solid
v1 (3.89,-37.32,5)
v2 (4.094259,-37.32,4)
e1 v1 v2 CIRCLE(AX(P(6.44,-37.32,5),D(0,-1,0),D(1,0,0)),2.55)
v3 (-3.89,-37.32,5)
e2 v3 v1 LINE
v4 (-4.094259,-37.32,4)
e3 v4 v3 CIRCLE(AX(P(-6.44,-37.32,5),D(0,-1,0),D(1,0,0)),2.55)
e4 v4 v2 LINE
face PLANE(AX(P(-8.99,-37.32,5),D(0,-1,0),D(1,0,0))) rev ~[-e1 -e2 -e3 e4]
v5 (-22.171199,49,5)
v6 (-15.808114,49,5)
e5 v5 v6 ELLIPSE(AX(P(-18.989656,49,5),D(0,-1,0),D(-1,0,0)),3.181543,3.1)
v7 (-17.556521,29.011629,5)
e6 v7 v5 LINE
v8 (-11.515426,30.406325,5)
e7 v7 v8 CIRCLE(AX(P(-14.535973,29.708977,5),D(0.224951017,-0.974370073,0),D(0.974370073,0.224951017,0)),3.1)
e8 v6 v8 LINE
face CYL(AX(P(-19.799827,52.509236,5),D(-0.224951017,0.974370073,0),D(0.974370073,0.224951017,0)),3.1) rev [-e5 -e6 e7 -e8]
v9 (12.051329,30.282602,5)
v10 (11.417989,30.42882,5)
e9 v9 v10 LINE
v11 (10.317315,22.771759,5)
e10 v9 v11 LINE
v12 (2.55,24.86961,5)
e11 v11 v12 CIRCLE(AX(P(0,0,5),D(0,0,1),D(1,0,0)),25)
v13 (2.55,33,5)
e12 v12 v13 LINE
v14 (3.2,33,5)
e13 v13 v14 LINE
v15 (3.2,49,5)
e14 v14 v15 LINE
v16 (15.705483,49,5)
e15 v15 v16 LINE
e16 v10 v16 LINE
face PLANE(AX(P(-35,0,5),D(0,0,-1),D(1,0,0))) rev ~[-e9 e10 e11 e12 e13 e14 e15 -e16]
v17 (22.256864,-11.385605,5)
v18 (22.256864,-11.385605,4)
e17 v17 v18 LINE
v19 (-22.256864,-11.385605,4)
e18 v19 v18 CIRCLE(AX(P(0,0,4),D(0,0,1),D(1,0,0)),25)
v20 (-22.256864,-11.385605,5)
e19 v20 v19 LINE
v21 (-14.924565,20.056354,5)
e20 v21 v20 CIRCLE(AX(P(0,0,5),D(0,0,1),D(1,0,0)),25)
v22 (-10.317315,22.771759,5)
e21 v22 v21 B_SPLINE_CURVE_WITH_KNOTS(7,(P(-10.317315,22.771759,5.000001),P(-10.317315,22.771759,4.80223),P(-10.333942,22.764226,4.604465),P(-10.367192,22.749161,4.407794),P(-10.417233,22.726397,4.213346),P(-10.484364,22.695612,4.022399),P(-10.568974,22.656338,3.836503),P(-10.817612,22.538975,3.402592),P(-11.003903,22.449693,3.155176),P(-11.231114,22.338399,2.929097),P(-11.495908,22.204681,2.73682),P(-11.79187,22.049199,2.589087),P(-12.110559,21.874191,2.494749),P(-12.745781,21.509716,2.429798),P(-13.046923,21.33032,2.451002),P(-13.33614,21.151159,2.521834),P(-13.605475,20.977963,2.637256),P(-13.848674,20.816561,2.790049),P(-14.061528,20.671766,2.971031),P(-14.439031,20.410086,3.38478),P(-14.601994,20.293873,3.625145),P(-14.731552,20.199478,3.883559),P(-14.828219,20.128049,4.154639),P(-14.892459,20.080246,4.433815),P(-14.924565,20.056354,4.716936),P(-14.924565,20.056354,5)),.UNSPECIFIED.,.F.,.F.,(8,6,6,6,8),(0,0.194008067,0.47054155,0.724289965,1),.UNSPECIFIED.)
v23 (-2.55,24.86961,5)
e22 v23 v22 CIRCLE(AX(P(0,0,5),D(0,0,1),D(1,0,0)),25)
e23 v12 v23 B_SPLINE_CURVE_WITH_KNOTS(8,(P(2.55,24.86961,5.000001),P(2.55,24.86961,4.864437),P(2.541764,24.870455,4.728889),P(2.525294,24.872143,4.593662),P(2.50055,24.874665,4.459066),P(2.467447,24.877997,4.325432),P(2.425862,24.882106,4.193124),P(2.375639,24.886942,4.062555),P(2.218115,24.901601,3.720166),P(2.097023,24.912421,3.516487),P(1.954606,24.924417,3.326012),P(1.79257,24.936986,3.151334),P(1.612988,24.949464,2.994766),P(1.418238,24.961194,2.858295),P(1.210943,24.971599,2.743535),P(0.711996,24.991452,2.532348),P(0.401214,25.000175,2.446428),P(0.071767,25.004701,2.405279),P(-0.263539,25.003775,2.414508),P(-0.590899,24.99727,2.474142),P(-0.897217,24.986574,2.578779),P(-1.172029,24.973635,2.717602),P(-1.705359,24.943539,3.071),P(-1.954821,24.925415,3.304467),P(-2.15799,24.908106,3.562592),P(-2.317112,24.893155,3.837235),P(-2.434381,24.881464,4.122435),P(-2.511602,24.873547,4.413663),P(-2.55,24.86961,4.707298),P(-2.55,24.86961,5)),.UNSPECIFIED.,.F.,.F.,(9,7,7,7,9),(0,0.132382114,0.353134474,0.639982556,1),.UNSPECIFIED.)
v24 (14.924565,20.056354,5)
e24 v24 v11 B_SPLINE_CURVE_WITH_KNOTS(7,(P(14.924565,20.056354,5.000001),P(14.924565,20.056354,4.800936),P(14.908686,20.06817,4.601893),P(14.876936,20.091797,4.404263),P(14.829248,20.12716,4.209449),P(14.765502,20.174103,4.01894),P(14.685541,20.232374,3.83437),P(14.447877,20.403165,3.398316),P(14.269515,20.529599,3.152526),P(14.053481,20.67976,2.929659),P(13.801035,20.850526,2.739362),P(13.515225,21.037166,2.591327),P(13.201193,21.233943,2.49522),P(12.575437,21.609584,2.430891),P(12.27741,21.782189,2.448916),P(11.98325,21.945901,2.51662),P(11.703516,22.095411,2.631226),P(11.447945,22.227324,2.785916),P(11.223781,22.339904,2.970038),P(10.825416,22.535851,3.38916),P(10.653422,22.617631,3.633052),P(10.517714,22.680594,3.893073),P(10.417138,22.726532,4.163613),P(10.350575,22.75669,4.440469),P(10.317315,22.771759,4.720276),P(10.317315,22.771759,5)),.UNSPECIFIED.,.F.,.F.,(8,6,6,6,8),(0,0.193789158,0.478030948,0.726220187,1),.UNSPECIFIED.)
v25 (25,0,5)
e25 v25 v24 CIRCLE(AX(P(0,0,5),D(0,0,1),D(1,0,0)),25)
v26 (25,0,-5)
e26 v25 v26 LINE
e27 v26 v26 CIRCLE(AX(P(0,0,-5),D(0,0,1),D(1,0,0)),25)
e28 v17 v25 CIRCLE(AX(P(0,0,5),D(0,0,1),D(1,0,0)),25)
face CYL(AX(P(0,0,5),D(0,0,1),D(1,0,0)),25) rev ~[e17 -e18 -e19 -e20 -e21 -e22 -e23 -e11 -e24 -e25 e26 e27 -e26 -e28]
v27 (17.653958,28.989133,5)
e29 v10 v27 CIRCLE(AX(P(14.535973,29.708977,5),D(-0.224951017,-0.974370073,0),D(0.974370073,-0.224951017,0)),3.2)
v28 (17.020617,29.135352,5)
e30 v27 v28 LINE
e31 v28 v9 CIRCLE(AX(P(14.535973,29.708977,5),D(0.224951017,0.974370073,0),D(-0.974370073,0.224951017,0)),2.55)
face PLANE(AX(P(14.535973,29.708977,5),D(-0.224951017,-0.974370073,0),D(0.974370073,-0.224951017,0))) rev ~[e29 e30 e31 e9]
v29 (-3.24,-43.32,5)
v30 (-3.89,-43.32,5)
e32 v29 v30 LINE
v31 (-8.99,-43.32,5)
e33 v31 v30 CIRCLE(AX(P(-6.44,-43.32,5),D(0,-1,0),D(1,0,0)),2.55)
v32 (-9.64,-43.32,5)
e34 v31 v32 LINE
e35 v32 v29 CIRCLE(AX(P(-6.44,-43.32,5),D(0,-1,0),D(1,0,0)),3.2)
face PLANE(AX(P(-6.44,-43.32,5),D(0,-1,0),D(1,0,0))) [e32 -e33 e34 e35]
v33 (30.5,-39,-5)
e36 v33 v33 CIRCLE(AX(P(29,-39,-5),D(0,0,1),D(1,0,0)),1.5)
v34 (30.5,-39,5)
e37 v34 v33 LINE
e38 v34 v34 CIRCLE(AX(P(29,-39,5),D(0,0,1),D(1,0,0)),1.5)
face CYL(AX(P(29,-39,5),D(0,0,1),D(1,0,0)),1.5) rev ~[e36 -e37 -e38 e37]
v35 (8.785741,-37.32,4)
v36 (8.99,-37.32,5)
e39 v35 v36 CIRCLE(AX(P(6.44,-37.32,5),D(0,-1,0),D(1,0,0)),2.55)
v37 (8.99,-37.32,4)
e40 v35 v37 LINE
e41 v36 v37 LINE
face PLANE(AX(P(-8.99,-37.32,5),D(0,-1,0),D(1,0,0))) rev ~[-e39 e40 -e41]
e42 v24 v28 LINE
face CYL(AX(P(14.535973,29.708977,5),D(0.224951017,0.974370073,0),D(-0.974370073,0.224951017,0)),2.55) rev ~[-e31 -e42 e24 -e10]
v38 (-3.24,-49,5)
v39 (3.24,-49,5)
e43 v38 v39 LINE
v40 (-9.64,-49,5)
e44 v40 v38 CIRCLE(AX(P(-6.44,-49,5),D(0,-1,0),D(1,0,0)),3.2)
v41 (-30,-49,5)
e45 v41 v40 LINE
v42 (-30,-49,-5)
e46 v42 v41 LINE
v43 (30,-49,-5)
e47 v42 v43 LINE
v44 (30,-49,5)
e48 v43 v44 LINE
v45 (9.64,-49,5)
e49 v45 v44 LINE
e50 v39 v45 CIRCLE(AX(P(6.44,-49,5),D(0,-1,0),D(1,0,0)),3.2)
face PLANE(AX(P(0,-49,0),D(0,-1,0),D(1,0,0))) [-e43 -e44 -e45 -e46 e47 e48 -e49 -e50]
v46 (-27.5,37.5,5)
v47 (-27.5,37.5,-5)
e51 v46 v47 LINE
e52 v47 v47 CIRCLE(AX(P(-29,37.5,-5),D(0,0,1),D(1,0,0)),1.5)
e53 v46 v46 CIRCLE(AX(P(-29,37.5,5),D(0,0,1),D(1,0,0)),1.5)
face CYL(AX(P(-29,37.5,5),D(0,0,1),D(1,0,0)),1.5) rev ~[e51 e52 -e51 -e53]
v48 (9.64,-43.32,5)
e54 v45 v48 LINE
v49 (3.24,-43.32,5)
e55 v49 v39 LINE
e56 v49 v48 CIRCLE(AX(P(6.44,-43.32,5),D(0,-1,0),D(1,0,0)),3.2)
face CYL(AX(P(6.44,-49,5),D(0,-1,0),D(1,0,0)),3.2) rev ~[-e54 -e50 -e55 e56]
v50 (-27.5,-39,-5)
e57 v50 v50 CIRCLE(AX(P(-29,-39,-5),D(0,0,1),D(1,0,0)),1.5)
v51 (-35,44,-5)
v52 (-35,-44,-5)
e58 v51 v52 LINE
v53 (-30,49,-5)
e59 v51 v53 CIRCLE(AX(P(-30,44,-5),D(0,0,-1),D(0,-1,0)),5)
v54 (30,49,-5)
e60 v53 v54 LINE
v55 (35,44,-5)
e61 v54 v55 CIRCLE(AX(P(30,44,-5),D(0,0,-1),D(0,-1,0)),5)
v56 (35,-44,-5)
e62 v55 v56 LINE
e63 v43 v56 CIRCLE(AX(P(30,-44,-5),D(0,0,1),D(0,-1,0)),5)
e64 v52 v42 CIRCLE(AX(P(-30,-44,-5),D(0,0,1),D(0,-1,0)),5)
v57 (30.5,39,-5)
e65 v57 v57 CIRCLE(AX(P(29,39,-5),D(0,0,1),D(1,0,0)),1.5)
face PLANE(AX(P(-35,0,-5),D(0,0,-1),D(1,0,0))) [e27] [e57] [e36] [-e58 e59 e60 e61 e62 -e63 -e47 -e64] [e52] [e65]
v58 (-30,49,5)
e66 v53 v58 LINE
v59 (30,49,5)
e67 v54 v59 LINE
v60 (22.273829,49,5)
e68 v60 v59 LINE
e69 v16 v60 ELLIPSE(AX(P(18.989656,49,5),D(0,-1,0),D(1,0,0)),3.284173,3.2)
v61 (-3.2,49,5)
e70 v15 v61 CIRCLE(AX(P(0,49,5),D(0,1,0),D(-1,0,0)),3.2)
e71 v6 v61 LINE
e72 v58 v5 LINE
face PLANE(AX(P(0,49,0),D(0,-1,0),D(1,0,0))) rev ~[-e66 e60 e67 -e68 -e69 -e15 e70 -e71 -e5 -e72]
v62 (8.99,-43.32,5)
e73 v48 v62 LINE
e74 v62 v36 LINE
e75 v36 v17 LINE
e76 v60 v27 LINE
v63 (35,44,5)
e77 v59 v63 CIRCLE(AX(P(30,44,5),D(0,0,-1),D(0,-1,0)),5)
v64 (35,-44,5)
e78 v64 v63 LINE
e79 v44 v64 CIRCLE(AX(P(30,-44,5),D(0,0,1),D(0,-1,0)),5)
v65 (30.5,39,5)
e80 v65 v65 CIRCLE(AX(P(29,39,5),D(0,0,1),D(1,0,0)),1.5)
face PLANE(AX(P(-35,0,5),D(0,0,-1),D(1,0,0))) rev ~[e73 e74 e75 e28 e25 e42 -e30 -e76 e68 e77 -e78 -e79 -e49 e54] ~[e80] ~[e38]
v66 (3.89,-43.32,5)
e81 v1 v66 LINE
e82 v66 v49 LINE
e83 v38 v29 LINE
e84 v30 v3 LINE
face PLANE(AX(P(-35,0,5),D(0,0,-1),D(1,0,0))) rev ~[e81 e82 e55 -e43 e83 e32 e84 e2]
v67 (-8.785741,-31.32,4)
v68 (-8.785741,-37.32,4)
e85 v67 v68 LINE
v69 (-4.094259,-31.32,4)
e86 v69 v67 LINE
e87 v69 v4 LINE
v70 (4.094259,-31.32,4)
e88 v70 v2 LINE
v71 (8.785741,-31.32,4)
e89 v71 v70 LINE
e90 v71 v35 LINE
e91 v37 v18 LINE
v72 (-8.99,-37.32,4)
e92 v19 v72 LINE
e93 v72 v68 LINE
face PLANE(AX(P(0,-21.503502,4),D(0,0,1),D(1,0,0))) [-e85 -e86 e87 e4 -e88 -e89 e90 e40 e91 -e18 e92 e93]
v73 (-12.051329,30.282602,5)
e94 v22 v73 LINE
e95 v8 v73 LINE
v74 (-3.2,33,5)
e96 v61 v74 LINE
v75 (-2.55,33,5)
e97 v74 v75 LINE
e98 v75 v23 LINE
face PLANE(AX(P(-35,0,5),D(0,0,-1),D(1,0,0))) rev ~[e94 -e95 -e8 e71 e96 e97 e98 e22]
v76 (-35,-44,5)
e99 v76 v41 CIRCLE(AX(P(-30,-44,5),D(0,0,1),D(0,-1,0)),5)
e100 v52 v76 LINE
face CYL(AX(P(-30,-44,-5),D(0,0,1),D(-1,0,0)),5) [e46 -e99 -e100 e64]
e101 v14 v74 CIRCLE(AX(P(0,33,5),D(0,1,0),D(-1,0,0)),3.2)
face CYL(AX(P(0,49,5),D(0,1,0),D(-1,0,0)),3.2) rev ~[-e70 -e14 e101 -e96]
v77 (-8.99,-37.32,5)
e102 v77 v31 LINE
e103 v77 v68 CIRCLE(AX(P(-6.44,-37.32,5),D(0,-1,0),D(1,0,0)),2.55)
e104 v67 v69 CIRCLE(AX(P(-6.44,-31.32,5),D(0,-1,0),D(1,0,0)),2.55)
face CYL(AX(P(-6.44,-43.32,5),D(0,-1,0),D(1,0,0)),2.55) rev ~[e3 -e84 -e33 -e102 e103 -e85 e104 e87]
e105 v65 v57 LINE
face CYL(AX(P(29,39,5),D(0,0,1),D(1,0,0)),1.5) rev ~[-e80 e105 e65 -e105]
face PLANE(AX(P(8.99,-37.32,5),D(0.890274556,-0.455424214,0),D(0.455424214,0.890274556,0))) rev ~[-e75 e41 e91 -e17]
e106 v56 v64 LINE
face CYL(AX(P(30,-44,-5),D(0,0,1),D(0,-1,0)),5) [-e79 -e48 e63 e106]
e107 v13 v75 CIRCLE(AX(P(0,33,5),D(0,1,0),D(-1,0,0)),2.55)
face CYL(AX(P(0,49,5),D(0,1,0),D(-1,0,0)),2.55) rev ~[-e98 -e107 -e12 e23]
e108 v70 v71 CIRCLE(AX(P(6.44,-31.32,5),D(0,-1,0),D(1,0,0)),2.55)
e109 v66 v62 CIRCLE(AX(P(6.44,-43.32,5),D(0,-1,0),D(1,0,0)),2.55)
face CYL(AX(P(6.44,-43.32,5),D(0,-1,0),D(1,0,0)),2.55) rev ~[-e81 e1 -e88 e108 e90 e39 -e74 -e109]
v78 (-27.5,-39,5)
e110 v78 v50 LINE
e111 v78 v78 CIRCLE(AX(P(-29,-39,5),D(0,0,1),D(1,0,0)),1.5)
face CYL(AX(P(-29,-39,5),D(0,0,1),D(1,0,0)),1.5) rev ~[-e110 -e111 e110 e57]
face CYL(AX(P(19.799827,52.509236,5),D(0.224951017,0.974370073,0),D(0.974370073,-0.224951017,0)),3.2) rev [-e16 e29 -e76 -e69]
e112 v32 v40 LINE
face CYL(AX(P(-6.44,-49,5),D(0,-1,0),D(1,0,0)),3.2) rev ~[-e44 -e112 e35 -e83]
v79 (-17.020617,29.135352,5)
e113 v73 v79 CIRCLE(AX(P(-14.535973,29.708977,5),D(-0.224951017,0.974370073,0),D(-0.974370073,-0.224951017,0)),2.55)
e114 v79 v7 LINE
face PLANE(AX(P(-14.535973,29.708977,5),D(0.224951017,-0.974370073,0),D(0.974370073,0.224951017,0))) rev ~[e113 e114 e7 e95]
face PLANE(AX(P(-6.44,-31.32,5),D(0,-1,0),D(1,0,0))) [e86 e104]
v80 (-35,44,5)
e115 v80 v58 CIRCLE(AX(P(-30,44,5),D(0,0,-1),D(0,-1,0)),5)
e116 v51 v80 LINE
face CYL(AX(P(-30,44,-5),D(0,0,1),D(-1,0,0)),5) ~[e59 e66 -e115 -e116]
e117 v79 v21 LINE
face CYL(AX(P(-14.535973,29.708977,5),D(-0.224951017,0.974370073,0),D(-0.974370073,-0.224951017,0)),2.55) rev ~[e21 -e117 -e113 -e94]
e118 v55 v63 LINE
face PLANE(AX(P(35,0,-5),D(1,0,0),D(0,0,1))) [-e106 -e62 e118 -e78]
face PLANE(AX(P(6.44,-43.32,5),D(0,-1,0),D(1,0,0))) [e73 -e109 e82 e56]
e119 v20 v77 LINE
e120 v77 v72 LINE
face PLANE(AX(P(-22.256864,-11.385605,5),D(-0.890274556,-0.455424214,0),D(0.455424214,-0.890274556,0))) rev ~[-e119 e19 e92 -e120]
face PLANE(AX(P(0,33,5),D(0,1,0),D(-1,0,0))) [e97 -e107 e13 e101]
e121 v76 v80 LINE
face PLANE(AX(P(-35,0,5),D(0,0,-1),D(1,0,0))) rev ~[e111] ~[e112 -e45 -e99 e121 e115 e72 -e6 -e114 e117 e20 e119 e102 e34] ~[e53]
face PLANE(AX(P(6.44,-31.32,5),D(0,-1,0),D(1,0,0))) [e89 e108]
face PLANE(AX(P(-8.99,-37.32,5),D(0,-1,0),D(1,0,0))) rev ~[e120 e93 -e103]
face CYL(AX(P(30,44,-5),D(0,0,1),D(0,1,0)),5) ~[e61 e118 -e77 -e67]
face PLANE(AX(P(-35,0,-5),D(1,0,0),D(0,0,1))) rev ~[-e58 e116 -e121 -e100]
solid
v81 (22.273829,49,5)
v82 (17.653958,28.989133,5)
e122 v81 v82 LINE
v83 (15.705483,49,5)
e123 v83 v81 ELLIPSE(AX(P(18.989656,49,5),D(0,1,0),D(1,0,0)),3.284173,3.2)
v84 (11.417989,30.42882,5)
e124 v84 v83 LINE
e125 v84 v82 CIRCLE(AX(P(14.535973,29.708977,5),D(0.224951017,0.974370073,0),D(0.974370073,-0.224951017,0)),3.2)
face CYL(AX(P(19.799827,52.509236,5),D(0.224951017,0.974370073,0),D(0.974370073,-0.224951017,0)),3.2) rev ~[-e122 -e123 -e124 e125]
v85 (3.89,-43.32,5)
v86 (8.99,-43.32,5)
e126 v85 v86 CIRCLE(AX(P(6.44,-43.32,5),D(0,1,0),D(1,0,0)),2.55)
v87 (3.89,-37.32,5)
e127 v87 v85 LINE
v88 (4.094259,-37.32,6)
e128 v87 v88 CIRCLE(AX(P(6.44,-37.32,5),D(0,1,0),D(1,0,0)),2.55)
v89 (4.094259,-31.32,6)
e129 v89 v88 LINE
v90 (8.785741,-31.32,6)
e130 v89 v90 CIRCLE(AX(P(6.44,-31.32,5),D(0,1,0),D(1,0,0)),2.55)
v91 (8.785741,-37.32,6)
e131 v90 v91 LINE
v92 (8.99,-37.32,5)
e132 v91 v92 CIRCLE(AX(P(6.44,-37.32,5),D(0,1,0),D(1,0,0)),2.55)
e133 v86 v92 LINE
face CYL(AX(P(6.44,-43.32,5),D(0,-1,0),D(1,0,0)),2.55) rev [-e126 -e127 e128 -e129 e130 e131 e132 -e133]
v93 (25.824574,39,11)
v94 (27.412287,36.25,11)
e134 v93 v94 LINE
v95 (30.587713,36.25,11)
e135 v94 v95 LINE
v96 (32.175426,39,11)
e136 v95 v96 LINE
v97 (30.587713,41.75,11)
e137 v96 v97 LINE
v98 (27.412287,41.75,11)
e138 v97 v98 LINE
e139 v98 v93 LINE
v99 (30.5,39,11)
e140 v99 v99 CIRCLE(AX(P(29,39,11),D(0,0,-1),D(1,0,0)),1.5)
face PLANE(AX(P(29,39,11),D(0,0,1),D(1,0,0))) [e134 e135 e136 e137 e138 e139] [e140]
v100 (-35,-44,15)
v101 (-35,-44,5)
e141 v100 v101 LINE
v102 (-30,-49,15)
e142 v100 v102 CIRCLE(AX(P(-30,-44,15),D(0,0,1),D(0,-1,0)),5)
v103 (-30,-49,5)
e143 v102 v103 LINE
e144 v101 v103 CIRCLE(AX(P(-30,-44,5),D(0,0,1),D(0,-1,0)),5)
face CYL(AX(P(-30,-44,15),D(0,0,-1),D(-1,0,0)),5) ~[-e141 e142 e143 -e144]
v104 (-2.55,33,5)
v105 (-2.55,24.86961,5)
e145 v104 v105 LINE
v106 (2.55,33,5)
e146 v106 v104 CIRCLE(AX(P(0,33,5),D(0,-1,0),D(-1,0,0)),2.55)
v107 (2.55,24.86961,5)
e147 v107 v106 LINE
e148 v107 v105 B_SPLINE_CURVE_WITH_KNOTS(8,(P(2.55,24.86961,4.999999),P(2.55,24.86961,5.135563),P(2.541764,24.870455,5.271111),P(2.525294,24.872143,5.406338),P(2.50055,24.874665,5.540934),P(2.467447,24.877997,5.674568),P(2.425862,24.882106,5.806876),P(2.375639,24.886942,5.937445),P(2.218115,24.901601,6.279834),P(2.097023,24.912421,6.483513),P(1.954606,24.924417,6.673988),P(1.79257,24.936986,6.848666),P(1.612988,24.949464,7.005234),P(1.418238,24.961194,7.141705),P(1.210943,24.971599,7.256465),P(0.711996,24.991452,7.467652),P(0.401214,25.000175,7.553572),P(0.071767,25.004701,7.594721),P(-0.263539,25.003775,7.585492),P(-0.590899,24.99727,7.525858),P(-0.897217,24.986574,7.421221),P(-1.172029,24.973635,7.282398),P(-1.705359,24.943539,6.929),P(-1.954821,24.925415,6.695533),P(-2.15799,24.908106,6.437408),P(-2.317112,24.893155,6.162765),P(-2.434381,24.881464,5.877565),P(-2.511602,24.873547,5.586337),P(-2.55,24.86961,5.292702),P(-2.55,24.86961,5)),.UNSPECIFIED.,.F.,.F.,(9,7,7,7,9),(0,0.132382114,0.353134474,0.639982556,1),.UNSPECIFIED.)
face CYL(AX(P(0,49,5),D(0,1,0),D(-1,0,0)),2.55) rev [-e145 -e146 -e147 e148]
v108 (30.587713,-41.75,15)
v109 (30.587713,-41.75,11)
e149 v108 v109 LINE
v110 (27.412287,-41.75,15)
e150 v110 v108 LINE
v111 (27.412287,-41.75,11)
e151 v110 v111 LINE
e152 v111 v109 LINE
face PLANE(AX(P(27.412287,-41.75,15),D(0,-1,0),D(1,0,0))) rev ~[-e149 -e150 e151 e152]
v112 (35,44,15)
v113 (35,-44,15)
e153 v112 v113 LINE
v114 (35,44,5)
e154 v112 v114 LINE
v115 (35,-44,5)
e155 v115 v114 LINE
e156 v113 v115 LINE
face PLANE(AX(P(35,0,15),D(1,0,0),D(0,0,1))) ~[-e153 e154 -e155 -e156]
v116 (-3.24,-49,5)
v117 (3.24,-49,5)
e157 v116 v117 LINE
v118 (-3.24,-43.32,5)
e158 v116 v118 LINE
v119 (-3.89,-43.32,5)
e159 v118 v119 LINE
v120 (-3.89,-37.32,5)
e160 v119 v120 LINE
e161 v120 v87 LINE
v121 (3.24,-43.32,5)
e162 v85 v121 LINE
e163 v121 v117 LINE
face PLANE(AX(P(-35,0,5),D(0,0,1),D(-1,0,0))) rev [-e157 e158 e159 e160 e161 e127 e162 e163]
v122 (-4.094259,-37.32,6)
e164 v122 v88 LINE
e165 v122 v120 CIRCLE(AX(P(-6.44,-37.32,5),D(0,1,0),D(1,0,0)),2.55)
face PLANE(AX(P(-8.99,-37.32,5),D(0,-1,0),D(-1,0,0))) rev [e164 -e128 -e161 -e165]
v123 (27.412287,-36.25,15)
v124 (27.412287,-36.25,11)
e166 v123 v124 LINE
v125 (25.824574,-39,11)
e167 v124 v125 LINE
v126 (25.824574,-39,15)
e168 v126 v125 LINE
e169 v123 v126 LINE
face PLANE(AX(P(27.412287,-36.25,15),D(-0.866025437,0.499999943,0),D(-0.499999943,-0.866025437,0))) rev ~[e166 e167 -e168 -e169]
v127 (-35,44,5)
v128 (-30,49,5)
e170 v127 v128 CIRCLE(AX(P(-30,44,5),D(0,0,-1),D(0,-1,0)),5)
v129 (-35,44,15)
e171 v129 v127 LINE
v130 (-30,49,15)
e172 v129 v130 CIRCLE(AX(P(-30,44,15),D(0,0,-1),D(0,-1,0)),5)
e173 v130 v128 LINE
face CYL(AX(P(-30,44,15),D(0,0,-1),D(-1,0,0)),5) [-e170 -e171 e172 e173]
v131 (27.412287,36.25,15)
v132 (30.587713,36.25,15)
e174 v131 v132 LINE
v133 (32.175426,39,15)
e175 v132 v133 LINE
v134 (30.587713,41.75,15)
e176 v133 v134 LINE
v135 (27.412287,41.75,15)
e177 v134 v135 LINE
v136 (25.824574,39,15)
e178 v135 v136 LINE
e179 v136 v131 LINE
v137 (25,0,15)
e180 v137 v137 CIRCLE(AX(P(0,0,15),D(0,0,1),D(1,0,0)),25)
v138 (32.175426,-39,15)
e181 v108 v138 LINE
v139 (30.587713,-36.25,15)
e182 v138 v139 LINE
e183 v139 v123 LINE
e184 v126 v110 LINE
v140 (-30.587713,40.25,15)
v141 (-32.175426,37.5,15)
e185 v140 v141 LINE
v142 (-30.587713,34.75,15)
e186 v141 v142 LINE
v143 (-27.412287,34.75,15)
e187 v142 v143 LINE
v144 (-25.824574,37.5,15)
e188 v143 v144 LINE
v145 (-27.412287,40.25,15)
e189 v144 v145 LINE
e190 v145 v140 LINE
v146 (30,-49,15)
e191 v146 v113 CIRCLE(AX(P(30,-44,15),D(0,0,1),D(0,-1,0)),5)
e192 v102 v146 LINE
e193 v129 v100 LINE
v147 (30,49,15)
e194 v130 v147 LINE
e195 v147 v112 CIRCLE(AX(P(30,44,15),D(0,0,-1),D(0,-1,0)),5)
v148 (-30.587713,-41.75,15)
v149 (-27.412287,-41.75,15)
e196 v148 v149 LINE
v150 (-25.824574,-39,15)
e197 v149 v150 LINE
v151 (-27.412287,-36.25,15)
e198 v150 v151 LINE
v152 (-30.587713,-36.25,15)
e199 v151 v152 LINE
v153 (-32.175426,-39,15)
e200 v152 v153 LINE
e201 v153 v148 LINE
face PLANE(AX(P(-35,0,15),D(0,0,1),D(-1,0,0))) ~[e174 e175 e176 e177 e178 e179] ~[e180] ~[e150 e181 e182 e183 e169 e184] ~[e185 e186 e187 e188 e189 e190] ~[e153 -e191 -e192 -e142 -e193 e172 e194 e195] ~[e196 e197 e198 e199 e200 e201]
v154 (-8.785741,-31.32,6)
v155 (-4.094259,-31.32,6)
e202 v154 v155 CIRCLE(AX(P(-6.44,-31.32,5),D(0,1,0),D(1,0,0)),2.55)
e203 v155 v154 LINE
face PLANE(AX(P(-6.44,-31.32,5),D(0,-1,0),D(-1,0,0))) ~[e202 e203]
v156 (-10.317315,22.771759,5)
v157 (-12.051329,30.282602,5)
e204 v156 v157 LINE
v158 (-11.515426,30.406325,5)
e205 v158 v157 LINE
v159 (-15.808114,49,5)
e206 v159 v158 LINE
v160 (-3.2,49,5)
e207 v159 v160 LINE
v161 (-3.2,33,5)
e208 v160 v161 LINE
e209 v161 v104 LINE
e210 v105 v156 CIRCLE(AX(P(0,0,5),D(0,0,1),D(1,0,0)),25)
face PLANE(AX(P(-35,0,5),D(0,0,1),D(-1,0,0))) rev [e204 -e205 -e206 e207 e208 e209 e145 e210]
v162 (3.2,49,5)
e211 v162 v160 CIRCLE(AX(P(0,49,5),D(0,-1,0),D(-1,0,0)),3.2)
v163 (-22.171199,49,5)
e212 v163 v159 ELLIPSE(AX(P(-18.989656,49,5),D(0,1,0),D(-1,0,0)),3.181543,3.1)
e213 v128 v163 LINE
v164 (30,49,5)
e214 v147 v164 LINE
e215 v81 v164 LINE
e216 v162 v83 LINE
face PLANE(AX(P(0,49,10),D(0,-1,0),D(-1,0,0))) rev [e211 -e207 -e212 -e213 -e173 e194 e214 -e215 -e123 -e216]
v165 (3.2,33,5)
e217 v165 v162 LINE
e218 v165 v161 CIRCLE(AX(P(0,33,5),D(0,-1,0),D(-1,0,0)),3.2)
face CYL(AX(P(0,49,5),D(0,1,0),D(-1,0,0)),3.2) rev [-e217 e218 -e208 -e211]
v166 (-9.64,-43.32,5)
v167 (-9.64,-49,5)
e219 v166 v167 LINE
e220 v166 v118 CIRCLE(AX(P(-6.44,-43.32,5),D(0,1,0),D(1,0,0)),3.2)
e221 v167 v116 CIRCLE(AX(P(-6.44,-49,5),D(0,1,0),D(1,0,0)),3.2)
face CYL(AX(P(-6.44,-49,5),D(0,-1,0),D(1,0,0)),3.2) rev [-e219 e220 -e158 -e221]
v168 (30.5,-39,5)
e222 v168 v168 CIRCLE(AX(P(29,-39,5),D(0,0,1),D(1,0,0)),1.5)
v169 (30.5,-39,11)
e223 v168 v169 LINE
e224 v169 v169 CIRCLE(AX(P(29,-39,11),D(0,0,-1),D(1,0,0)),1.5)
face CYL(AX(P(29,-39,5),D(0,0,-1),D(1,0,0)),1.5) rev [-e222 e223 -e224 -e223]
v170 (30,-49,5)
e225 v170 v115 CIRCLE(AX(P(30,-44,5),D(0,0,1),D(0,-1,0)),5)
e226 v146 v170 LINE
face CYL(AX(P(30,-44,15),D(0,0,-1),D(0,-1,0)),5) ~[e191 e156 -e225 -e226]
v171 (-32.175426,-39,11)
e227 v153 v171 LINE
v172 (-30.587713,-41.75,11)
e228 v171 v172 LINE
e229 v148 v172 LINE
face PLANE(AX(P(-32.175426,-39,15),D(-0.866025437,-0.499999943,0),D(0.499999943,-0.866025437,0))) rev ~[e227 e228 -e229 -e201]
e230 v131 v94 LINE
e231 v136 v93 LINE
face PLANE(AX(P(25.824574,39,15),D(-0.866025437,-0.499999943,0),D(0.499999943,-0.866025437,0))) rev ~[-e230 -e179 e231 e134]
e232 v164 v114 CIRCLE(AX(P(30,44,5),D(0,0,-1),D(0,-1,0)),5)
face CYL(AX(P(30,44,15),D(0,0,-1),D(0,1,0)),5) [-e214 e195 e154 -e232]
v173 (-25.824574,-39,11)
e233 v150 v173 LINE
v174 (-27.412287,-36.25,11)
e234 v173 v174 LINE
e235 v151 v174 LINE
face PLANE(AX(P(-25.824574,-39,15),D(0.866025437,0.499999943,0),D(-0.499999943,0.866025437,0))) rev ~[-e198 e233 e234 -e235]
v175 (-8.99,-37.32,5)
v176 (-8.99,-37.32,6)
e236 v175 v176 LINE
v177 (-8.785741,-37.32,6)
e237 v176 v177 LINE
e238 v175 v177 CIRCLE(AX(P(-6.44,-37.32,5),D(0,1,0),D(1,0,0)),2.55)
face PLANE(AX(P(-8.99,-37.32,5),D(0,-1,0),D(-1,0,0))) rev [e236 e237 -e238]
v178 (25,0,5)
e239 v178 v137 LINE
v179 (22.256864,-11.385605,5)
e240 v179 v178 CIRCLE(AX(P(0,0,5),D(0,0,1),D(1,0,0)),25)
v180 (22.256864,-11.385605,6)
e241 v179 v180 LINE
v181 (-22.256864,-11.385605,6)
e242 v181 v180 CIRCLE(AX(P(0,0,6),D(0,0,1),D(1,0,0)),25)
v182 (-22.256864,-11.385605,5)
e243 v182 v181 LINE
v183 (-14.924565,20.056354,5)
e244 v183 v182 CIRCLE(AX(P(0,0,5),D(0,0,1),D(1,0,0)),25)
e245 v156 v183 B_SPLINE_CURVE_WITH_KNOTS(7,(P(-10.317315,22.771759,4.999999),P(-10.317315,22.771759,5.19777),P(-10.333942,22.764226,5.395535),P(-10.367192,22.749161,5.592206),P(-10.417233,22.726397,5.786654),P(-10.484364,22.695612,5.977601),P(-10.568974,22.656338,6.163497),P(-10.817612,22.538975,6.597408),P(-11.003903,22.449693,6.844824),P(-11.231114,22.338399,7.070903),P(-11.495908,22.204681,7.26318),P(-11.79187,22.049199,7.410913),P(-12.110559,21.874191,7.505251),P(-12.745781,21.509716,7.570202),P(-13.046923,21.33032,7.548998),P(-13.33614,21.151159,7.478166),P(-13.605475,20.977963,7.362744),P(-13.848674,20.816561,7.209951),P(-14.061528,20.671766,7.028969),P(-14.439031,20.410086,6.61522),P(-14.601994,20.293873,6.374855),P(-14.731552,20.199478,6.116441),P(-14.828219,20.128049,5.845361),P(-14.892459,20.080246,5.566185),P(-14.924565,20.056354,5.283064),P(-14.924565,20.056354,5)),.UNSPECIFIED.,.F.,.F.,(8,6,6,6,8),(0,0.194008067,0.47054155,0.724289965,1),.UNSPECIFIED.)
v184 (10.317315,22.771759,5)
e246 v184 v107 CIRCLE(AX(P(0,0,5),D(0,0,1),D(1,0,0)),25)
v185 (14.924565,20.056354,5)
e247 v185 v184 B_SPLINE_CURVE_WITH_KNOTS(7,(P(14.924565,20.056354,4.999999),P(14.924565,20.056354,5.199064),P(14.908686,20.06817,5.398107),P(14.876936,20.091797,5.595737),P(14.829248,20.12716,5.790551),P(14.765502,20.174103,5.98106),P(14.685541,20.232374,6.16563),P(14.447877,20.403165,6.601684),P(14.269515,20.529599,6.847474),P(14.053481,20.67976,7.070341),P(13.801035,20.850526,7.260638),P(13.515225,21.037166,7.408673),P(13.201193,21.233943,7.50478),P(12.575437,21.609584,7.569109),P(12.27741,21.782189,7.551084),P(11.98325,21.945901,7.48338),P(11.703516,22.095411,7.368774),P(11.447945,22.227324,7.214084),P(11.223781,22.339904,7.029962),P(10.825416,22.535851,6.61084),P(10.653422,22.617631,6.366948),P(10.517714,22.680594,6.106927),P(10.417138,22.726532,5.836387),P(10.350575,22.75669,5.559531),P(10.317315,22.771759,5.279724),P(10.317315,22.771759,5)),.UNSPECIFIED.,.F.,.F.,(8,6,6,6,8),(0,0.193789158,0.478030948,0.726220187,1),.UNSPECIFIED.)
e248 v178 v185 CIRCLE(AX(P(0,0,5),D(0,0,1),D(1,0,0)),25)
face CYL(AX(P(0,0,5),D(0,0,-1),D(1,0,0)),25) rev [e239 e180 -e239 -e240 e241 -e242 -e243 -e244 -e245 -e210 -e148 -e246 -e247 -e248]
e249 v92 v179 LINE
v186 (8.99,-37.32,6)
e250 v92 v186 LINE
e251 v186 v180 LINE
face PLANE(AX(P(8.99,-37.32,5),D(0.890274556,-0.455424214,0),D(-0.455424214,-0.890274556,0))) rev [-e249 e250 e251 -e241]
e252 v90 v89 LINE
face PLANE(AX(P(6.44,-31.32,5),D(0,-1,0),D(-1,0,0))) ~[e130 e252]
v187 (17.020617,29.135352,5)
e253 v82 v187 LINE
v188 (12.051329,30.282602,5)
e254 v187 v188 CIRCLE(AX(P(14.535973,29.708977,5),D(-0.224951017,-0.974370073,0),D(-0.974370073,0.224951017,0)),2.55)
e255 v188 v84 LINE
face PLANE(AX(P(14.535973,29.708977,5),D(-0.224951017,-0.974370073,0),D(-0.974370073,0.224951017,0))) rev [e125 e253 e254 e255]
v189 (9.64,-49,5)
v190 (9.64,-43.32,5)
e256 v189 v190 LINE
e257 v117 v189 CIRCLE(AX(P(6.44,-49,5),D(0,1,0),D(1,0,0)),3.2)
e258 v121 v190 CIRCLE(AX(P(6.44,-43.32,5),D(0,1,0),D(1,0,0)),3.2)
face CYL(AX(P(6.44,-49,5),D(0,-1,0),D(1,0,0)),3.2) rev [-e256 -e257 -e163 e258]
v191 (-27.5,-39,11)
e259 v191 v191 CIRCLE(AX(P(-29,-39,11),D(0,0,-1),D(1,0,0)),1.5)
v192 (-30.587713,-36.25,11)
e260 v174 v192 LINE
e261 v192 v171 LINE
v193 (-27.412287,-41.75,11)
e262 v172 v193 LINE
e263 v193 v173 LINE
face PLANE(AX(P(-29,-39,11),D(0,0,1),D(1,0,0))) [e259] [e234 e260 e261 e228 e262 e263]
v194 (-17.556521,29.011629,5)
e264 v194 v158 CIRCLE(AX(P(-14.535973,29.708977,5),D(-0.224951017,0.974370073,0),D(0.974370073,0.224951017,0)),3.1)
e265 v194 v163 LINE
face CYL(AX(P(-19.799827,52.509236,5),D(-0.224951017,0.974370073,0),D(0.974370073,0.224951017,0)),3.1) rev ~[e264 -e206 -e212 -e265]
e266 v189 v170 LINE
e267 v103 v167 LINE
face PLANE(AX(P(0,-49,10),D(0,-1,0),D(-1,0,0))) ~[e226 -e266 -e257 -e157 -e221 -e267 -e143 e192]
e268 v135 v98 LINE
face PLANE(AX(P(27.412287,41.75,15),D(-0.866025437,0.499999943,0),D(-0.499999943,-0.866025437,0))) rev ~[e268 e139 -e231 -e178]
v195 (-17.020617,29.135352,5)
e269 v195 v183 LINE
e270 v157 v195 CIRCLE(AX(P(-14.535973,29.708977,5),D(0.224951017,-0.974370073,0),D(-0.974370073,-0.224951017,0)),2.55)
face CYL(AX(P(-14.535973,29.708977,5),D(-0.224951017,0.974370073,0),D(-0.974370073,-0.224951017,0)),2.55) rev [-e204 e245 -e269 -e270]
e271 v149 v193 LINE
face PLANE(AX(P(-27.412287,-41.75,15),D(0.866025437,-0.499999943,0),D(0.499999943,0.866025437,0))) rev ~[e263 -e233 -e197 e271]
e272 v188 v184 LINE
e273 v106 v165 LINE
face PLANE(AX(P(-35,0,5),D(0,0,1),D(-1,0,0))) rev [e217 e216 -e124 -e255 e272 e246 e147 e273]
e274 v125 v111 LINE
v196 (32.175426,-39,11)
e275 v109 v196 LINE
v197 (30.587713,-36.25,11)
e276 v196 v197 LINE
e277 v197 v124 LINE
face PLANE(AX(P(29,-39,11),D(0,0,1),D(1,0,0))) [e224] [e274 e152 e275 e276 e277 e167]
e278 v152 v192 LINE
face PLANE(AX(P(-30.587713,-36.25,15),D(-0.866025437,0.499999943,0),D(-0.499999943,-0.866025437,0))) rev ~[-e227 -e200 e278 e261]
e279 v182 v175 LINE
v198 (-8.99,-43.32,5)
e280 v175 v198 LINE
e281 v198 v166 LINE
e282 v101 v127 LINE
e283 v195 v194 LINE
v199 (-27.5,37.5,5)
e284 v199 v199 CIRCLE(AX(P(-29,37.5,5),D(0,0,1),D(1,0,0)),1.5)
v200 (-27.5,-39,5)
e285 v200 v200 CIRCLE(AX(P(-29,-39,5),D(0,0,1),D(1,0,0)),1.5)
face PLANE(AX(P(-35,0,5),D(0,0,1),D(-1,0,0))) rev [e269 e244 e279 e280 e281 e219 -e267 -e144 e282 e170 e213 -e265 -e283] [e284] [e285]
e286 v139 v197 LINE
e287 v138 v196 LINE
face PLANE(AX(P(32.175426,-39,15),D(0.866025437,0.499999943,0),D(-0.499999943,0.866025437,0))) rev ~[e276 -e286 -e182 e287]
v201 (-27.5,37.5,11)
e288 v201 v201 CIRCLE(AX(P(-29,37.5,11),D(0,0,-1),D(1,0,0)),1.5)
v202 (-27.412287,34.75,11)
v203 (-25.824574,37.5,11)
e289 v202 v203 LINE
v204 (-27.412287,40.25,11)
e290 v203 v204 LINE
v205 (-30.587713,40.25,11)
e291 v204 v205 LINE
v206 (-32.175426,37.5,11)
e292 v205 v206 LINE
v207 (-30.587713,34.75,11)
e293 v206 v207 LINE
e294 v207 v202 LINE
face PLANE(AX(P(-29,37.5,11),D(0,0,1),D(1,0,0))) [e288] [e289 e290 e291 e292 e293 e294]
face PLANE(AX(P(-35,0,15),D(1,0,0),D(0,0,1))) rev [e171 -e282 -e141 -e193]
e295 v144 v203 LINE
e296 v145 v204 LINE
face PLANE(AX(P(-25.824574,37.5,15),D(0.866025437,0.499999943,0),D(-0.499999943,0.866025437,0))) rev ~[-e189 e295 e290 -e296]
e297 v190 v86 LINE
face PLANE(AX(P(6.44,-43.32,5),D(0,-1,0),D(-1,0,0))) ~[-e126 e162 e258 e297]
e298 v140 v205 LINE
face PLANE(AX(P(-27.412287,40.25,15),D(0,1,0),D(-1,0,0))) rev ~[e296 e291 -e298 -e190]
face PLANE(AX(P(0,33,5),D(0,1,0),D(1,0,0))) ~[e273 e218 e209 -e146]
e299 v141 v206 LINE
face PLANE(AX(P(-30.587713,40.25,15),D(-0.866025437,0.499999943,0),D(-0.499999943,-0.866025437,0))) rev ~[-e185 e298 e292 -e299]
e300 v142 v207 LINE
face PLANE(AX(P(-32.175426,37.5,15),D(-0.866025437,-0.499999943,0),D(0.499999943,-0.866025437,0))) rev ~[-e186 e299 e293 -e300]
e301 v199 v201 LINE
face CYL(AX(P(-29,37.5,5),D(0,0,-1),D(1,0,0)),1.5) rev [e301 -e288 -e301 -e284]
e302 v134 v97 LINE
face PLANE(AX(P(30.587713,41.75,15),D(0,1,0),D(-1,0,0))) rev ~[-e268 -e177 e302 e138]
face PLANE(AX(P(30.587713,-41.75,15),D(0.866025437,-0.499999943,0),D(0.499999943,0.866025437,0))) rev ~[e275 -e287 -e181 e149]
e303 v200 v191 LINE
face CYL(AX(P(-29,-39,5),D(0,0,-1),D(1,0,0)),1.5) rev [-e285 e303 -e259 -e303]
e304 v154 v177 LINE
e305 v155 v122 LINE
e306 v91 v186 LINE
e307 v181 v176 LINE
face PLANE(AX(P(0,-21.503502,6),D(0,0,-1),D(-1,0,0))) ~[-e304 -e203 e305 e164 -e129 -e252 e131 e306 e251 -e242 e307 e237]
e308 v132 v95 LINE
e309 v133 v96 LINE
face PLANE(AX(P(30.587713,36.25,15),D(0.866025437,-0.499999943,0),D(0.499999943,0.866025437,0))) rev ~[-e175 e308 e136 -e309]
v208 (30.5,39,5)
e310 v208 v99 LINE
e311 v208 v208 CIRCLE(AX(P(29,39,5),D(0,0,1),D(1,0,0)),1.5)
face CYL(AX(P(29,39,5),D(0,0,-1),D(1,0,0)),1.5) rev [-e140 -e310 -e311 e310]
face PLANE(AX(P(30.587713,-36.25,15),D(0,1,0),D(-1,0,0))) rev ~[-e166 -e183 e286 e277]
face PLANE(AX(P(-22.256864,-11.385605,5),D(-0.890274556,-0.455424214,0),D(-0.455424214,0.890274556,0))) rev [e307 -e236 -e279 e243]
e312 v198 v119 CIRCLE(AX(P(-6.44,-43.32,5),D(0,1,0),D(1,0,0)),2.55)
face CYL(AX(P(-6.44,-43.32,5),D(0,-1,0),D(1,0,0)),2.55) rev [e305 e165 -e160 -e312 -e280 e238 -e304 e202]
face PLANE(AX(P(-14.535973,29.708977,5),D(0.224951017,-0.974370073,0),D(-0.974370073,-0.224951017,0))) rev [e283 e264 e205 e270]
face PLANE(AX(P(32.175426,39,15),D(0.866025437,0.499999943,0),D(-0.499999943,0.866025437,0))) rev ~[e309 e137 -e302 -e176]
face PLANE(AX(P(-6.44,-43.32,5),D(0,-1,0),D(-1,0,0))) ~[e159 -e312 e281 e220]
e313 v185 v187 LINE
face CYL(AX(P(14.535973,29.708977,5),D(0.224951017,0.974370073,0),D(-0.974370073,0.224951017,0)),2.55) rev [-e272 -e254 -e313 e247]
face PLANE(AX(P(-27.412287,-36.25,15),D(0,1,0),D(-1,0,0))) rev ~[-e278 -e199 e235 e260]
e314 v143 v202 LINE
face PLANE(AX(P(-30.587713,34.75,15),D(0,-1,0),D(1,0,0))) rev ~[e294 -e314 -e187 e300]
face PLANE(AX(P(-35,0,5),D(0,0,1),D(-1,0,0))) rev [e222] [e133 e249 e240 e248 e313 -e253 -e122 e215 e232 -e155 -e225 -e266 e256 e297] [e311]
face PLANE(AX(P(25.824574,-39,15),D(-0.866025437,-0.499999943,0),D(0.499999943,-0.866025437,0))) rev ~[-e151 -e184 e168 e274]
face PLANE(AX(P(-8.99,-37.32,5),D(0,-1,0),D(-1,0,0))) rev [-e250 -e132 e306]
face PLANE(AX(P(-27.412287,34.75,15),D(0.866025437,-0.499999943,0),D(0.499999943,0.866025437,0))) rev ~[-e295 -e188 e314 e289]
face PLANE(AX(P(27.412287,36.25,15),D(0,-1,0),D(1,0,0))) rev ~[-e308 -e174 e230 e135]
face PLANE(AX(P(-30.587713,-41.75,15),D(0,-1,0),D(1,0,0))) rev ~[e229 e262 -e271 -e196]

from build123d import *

# Parameters (mm, degrees)
F0_W      = 70
F0_H      = 10
F1_DEPTH  = 49
F2_R      = 25
F3_DEPTH  = 10.001
F4_R      = 3.2
F5_DEPTH  = 5.68
F6_R      = 2.55
F7_DEPTH  = 12
F9_DEPTH  = 1
F12_R     = 3.1
F13_DEPTH = 15
F14_R     = 3.2
F15_DEPTH = 23.4
F16_DEPTH = 23.4
F17_R     = 2.55
F18_DEPTH = 25
F19_R     = 2.55
F20_DEPTH = 25
F21_R     = 2.55
F22_DEPTH = 25
F23_R     = 3.2
F24_DEPTH = 16
F25_R     = 1.5
F26_DEPTH = 25
F29_DEPTH = 4
F30_R     = 5


with BuildPart() as f1:
    # F0 (on Front) → F1 (new body, symmetric)
    with BuildSketch(Plane.XZ):
        Rectangle(F0_W, F0_H)
    extrude(amount=F1_DEPTH, both=True)

    # F2 (on face) → F3 (cut, through all)
    with BuildSketch(Plane.XY.offset(5)):
        Circle(F2_R)
    extrude(amount=-F3_DEPTH, mode=Mode.SUBTRACT)

    # F4 (on face) → F5 (cut)
    with BuildSketch(Plane.XZ.offset(49)):
        with Locations((-6.44, 5)):
            Circle(F4_R)
        with Locations((6.44, 5)):
            Circle(F4_R)
    extrude(amount=-F5_DEPTH, mode=Mode.SUBTRACT)

    # F6 (on face) → F7 (cut)
    with BuildSketch(Plane.XZ.offset(43.32)):
        with Locations((-6.44, 5)):
            Circle(F6_R)
        with Locations((6.44, 5)):
            Circle(F6_R)
    extrude(amount=-F7_DEPTH, mode=Mode.SUBTRACT)

    # F8 (on face) → F9 (cut)
    with BuildSketch(Plane.XY.offset(5)):
        Polygon((22.256864, -11.385605), (-22.256864, -11.385605), (-8.99, -37.32), (8.99, -37.32), align=None)
    extrude(amount=-F9_DEPTH, mode=Mode.SUBTRACT)

    # F12 (on face) → F13 (cut)
    with BuildSketch(Plane(origin=(-12.511197, 54.191949, 0), x_dir=(0.97437, 0.224951, 0), z_dir=(0.224951, -0.97437, 0))):
        with Locations((-7.480351, 5)):
            Circle(F12_R)
    extrude(amount=F13_DEPTH, mode=Mode.SUBTRACT)

    # F14 (on face) → F15 (cut)
    with BuildSketch(Plane(origin=(12.511197, 54.191949, 0), x_dir=(0.97437, -0.224951, 0), z_dir=(-0.224951, -0.97437, 0))):
        with Locations((7.480351, 5)):
            Circle(F14_R)
    extrude(amount=F15_DEPTH, mode=Mode.SUBTRACT)

    # F12 (on face) → F16 (cut)
    with BuildSketch(Plane(origin=(-12.511197, 54.191949, 0), x_dir=(0.97437, 0.224951, 0), z_dir=(0.224951, -0.97437, 0))):
        with Locations((-7.480351, 5)):
            Circle(F12_R)
    extrude(amount=F16_DEPTH, mode=Mode.SUBTRACT)

    # F17 (on face) → F18 (cut)
    with BuildSketch(Plane(origin=(-7.247343, 31.39169, 0), x_dir=(-0.97437, -0.224951, 0), z_dir=(-0.224951, 0.97437, 0))):
        with Locations((7.480351, 5)):
            Circle(F17_R)
    extrude(amount=-F18_DEPTH, mode=Mode.SUBTRACT)

    # F19 (on face) → F20 (cut)
    with BuildSketch(Plane(origin=(7.247343, 31.39169, 0), x_dir=(-0.97437, 0.224951, 0), z_dir=(0.224951, 0.97437, 0))):
        with Locations((-7.480351, 5)):
            Circle(F19_R)
    extrude(amount=-F20_DEPTH, mode=Mode.SUBTRACT)

    # F21 (on face) → F22 (cut)
    with BuildSketch(Plane(origin=(0, 49, 0), x_dir=(-1, 0, 0), z_dir=(0, 1, 0))):
        with Locations((0, 5)):
            Circle(F21_R)
    extrude(amount=-F22_DEPTH, mode=Mode.SUBTRACT)

    # F23 (on face) → F24 (cut)
    with BuildSketch(Plane(origin=(0, 49, 0), x_dir=(-1, 0, 0), z_dir=(0, 1, 0))):
        with Locations((0, 5)):
            Circle(F23_R)
    extrude(amount=-F24_DEPTH, mode=Mode.SUBTRACT)

    # F25 (on face) → F26 (cut)
    with BuildSketch(Plane.XY.offset(5)):
        with Locations((-29, 37.5)):
            Circle(F25_R)
        with Locations((29, 39)):
            Circle(F25_R)
        with Locations((-29, -39)):
            Circle(F25_R)
        with Locations((29, -39)):
            Circle(F25_R)
    extrude(amount=-F26_DEPTH, mode=Mode.SUBTRACT)

    # F30
    f30_edges = [f1.edges().sort_by_distance(p)[0] for p in [
        (-35, -49, 0),
        (35, -49, 0),
        (35, 49, 0),
        (-35, 49, 0),
    ]]
    fillet(f30_edges, radius=F30_R)


with BuildPart() as f27_1:
    # F27: instance of F1
    add(f1.part.mirror(Plane(origin=(8.124862, 37.358806, 5), x_dir=(1, 0, 0), z_dir=(0, 0, 1))))

    # F28 (on face) → F29 (cut)
    with BuildSketch(Plane.XY.offset(15)):
        Polygon((-27.412287, 34.75), (-25.824574, 37.5), (-27.412287, 40.25), (-30.587713, 40.25), (-32.175426, 37.5), (-30.587713, 34.75), align=None)
        Polygon((30.587713, 36.25), (32.175426, 39), (30.587713, 41.75), (27.412287, 41.75), (25.824574, 39), (27.412287, 36.25), align=None)
        Polygon((-27.412287, -41.75), (-25.824574, -39), (-27.412287, -36.25), (-30.587713, -36.25), (-32.175426, -39), (-30.587713, -41.75), align=None)
        Polygon((27.412287, -41.75), (30.587713, -41.75), (32.175426, -39), (30.587713, -36.25), (27.412287, -36.25), (25.824574, -39), align=None)
    extrude(amount=-F29_DEPTH, mode=Mode.SUBTRACT)


solid = Compound([f1.part, f27_1.part])
